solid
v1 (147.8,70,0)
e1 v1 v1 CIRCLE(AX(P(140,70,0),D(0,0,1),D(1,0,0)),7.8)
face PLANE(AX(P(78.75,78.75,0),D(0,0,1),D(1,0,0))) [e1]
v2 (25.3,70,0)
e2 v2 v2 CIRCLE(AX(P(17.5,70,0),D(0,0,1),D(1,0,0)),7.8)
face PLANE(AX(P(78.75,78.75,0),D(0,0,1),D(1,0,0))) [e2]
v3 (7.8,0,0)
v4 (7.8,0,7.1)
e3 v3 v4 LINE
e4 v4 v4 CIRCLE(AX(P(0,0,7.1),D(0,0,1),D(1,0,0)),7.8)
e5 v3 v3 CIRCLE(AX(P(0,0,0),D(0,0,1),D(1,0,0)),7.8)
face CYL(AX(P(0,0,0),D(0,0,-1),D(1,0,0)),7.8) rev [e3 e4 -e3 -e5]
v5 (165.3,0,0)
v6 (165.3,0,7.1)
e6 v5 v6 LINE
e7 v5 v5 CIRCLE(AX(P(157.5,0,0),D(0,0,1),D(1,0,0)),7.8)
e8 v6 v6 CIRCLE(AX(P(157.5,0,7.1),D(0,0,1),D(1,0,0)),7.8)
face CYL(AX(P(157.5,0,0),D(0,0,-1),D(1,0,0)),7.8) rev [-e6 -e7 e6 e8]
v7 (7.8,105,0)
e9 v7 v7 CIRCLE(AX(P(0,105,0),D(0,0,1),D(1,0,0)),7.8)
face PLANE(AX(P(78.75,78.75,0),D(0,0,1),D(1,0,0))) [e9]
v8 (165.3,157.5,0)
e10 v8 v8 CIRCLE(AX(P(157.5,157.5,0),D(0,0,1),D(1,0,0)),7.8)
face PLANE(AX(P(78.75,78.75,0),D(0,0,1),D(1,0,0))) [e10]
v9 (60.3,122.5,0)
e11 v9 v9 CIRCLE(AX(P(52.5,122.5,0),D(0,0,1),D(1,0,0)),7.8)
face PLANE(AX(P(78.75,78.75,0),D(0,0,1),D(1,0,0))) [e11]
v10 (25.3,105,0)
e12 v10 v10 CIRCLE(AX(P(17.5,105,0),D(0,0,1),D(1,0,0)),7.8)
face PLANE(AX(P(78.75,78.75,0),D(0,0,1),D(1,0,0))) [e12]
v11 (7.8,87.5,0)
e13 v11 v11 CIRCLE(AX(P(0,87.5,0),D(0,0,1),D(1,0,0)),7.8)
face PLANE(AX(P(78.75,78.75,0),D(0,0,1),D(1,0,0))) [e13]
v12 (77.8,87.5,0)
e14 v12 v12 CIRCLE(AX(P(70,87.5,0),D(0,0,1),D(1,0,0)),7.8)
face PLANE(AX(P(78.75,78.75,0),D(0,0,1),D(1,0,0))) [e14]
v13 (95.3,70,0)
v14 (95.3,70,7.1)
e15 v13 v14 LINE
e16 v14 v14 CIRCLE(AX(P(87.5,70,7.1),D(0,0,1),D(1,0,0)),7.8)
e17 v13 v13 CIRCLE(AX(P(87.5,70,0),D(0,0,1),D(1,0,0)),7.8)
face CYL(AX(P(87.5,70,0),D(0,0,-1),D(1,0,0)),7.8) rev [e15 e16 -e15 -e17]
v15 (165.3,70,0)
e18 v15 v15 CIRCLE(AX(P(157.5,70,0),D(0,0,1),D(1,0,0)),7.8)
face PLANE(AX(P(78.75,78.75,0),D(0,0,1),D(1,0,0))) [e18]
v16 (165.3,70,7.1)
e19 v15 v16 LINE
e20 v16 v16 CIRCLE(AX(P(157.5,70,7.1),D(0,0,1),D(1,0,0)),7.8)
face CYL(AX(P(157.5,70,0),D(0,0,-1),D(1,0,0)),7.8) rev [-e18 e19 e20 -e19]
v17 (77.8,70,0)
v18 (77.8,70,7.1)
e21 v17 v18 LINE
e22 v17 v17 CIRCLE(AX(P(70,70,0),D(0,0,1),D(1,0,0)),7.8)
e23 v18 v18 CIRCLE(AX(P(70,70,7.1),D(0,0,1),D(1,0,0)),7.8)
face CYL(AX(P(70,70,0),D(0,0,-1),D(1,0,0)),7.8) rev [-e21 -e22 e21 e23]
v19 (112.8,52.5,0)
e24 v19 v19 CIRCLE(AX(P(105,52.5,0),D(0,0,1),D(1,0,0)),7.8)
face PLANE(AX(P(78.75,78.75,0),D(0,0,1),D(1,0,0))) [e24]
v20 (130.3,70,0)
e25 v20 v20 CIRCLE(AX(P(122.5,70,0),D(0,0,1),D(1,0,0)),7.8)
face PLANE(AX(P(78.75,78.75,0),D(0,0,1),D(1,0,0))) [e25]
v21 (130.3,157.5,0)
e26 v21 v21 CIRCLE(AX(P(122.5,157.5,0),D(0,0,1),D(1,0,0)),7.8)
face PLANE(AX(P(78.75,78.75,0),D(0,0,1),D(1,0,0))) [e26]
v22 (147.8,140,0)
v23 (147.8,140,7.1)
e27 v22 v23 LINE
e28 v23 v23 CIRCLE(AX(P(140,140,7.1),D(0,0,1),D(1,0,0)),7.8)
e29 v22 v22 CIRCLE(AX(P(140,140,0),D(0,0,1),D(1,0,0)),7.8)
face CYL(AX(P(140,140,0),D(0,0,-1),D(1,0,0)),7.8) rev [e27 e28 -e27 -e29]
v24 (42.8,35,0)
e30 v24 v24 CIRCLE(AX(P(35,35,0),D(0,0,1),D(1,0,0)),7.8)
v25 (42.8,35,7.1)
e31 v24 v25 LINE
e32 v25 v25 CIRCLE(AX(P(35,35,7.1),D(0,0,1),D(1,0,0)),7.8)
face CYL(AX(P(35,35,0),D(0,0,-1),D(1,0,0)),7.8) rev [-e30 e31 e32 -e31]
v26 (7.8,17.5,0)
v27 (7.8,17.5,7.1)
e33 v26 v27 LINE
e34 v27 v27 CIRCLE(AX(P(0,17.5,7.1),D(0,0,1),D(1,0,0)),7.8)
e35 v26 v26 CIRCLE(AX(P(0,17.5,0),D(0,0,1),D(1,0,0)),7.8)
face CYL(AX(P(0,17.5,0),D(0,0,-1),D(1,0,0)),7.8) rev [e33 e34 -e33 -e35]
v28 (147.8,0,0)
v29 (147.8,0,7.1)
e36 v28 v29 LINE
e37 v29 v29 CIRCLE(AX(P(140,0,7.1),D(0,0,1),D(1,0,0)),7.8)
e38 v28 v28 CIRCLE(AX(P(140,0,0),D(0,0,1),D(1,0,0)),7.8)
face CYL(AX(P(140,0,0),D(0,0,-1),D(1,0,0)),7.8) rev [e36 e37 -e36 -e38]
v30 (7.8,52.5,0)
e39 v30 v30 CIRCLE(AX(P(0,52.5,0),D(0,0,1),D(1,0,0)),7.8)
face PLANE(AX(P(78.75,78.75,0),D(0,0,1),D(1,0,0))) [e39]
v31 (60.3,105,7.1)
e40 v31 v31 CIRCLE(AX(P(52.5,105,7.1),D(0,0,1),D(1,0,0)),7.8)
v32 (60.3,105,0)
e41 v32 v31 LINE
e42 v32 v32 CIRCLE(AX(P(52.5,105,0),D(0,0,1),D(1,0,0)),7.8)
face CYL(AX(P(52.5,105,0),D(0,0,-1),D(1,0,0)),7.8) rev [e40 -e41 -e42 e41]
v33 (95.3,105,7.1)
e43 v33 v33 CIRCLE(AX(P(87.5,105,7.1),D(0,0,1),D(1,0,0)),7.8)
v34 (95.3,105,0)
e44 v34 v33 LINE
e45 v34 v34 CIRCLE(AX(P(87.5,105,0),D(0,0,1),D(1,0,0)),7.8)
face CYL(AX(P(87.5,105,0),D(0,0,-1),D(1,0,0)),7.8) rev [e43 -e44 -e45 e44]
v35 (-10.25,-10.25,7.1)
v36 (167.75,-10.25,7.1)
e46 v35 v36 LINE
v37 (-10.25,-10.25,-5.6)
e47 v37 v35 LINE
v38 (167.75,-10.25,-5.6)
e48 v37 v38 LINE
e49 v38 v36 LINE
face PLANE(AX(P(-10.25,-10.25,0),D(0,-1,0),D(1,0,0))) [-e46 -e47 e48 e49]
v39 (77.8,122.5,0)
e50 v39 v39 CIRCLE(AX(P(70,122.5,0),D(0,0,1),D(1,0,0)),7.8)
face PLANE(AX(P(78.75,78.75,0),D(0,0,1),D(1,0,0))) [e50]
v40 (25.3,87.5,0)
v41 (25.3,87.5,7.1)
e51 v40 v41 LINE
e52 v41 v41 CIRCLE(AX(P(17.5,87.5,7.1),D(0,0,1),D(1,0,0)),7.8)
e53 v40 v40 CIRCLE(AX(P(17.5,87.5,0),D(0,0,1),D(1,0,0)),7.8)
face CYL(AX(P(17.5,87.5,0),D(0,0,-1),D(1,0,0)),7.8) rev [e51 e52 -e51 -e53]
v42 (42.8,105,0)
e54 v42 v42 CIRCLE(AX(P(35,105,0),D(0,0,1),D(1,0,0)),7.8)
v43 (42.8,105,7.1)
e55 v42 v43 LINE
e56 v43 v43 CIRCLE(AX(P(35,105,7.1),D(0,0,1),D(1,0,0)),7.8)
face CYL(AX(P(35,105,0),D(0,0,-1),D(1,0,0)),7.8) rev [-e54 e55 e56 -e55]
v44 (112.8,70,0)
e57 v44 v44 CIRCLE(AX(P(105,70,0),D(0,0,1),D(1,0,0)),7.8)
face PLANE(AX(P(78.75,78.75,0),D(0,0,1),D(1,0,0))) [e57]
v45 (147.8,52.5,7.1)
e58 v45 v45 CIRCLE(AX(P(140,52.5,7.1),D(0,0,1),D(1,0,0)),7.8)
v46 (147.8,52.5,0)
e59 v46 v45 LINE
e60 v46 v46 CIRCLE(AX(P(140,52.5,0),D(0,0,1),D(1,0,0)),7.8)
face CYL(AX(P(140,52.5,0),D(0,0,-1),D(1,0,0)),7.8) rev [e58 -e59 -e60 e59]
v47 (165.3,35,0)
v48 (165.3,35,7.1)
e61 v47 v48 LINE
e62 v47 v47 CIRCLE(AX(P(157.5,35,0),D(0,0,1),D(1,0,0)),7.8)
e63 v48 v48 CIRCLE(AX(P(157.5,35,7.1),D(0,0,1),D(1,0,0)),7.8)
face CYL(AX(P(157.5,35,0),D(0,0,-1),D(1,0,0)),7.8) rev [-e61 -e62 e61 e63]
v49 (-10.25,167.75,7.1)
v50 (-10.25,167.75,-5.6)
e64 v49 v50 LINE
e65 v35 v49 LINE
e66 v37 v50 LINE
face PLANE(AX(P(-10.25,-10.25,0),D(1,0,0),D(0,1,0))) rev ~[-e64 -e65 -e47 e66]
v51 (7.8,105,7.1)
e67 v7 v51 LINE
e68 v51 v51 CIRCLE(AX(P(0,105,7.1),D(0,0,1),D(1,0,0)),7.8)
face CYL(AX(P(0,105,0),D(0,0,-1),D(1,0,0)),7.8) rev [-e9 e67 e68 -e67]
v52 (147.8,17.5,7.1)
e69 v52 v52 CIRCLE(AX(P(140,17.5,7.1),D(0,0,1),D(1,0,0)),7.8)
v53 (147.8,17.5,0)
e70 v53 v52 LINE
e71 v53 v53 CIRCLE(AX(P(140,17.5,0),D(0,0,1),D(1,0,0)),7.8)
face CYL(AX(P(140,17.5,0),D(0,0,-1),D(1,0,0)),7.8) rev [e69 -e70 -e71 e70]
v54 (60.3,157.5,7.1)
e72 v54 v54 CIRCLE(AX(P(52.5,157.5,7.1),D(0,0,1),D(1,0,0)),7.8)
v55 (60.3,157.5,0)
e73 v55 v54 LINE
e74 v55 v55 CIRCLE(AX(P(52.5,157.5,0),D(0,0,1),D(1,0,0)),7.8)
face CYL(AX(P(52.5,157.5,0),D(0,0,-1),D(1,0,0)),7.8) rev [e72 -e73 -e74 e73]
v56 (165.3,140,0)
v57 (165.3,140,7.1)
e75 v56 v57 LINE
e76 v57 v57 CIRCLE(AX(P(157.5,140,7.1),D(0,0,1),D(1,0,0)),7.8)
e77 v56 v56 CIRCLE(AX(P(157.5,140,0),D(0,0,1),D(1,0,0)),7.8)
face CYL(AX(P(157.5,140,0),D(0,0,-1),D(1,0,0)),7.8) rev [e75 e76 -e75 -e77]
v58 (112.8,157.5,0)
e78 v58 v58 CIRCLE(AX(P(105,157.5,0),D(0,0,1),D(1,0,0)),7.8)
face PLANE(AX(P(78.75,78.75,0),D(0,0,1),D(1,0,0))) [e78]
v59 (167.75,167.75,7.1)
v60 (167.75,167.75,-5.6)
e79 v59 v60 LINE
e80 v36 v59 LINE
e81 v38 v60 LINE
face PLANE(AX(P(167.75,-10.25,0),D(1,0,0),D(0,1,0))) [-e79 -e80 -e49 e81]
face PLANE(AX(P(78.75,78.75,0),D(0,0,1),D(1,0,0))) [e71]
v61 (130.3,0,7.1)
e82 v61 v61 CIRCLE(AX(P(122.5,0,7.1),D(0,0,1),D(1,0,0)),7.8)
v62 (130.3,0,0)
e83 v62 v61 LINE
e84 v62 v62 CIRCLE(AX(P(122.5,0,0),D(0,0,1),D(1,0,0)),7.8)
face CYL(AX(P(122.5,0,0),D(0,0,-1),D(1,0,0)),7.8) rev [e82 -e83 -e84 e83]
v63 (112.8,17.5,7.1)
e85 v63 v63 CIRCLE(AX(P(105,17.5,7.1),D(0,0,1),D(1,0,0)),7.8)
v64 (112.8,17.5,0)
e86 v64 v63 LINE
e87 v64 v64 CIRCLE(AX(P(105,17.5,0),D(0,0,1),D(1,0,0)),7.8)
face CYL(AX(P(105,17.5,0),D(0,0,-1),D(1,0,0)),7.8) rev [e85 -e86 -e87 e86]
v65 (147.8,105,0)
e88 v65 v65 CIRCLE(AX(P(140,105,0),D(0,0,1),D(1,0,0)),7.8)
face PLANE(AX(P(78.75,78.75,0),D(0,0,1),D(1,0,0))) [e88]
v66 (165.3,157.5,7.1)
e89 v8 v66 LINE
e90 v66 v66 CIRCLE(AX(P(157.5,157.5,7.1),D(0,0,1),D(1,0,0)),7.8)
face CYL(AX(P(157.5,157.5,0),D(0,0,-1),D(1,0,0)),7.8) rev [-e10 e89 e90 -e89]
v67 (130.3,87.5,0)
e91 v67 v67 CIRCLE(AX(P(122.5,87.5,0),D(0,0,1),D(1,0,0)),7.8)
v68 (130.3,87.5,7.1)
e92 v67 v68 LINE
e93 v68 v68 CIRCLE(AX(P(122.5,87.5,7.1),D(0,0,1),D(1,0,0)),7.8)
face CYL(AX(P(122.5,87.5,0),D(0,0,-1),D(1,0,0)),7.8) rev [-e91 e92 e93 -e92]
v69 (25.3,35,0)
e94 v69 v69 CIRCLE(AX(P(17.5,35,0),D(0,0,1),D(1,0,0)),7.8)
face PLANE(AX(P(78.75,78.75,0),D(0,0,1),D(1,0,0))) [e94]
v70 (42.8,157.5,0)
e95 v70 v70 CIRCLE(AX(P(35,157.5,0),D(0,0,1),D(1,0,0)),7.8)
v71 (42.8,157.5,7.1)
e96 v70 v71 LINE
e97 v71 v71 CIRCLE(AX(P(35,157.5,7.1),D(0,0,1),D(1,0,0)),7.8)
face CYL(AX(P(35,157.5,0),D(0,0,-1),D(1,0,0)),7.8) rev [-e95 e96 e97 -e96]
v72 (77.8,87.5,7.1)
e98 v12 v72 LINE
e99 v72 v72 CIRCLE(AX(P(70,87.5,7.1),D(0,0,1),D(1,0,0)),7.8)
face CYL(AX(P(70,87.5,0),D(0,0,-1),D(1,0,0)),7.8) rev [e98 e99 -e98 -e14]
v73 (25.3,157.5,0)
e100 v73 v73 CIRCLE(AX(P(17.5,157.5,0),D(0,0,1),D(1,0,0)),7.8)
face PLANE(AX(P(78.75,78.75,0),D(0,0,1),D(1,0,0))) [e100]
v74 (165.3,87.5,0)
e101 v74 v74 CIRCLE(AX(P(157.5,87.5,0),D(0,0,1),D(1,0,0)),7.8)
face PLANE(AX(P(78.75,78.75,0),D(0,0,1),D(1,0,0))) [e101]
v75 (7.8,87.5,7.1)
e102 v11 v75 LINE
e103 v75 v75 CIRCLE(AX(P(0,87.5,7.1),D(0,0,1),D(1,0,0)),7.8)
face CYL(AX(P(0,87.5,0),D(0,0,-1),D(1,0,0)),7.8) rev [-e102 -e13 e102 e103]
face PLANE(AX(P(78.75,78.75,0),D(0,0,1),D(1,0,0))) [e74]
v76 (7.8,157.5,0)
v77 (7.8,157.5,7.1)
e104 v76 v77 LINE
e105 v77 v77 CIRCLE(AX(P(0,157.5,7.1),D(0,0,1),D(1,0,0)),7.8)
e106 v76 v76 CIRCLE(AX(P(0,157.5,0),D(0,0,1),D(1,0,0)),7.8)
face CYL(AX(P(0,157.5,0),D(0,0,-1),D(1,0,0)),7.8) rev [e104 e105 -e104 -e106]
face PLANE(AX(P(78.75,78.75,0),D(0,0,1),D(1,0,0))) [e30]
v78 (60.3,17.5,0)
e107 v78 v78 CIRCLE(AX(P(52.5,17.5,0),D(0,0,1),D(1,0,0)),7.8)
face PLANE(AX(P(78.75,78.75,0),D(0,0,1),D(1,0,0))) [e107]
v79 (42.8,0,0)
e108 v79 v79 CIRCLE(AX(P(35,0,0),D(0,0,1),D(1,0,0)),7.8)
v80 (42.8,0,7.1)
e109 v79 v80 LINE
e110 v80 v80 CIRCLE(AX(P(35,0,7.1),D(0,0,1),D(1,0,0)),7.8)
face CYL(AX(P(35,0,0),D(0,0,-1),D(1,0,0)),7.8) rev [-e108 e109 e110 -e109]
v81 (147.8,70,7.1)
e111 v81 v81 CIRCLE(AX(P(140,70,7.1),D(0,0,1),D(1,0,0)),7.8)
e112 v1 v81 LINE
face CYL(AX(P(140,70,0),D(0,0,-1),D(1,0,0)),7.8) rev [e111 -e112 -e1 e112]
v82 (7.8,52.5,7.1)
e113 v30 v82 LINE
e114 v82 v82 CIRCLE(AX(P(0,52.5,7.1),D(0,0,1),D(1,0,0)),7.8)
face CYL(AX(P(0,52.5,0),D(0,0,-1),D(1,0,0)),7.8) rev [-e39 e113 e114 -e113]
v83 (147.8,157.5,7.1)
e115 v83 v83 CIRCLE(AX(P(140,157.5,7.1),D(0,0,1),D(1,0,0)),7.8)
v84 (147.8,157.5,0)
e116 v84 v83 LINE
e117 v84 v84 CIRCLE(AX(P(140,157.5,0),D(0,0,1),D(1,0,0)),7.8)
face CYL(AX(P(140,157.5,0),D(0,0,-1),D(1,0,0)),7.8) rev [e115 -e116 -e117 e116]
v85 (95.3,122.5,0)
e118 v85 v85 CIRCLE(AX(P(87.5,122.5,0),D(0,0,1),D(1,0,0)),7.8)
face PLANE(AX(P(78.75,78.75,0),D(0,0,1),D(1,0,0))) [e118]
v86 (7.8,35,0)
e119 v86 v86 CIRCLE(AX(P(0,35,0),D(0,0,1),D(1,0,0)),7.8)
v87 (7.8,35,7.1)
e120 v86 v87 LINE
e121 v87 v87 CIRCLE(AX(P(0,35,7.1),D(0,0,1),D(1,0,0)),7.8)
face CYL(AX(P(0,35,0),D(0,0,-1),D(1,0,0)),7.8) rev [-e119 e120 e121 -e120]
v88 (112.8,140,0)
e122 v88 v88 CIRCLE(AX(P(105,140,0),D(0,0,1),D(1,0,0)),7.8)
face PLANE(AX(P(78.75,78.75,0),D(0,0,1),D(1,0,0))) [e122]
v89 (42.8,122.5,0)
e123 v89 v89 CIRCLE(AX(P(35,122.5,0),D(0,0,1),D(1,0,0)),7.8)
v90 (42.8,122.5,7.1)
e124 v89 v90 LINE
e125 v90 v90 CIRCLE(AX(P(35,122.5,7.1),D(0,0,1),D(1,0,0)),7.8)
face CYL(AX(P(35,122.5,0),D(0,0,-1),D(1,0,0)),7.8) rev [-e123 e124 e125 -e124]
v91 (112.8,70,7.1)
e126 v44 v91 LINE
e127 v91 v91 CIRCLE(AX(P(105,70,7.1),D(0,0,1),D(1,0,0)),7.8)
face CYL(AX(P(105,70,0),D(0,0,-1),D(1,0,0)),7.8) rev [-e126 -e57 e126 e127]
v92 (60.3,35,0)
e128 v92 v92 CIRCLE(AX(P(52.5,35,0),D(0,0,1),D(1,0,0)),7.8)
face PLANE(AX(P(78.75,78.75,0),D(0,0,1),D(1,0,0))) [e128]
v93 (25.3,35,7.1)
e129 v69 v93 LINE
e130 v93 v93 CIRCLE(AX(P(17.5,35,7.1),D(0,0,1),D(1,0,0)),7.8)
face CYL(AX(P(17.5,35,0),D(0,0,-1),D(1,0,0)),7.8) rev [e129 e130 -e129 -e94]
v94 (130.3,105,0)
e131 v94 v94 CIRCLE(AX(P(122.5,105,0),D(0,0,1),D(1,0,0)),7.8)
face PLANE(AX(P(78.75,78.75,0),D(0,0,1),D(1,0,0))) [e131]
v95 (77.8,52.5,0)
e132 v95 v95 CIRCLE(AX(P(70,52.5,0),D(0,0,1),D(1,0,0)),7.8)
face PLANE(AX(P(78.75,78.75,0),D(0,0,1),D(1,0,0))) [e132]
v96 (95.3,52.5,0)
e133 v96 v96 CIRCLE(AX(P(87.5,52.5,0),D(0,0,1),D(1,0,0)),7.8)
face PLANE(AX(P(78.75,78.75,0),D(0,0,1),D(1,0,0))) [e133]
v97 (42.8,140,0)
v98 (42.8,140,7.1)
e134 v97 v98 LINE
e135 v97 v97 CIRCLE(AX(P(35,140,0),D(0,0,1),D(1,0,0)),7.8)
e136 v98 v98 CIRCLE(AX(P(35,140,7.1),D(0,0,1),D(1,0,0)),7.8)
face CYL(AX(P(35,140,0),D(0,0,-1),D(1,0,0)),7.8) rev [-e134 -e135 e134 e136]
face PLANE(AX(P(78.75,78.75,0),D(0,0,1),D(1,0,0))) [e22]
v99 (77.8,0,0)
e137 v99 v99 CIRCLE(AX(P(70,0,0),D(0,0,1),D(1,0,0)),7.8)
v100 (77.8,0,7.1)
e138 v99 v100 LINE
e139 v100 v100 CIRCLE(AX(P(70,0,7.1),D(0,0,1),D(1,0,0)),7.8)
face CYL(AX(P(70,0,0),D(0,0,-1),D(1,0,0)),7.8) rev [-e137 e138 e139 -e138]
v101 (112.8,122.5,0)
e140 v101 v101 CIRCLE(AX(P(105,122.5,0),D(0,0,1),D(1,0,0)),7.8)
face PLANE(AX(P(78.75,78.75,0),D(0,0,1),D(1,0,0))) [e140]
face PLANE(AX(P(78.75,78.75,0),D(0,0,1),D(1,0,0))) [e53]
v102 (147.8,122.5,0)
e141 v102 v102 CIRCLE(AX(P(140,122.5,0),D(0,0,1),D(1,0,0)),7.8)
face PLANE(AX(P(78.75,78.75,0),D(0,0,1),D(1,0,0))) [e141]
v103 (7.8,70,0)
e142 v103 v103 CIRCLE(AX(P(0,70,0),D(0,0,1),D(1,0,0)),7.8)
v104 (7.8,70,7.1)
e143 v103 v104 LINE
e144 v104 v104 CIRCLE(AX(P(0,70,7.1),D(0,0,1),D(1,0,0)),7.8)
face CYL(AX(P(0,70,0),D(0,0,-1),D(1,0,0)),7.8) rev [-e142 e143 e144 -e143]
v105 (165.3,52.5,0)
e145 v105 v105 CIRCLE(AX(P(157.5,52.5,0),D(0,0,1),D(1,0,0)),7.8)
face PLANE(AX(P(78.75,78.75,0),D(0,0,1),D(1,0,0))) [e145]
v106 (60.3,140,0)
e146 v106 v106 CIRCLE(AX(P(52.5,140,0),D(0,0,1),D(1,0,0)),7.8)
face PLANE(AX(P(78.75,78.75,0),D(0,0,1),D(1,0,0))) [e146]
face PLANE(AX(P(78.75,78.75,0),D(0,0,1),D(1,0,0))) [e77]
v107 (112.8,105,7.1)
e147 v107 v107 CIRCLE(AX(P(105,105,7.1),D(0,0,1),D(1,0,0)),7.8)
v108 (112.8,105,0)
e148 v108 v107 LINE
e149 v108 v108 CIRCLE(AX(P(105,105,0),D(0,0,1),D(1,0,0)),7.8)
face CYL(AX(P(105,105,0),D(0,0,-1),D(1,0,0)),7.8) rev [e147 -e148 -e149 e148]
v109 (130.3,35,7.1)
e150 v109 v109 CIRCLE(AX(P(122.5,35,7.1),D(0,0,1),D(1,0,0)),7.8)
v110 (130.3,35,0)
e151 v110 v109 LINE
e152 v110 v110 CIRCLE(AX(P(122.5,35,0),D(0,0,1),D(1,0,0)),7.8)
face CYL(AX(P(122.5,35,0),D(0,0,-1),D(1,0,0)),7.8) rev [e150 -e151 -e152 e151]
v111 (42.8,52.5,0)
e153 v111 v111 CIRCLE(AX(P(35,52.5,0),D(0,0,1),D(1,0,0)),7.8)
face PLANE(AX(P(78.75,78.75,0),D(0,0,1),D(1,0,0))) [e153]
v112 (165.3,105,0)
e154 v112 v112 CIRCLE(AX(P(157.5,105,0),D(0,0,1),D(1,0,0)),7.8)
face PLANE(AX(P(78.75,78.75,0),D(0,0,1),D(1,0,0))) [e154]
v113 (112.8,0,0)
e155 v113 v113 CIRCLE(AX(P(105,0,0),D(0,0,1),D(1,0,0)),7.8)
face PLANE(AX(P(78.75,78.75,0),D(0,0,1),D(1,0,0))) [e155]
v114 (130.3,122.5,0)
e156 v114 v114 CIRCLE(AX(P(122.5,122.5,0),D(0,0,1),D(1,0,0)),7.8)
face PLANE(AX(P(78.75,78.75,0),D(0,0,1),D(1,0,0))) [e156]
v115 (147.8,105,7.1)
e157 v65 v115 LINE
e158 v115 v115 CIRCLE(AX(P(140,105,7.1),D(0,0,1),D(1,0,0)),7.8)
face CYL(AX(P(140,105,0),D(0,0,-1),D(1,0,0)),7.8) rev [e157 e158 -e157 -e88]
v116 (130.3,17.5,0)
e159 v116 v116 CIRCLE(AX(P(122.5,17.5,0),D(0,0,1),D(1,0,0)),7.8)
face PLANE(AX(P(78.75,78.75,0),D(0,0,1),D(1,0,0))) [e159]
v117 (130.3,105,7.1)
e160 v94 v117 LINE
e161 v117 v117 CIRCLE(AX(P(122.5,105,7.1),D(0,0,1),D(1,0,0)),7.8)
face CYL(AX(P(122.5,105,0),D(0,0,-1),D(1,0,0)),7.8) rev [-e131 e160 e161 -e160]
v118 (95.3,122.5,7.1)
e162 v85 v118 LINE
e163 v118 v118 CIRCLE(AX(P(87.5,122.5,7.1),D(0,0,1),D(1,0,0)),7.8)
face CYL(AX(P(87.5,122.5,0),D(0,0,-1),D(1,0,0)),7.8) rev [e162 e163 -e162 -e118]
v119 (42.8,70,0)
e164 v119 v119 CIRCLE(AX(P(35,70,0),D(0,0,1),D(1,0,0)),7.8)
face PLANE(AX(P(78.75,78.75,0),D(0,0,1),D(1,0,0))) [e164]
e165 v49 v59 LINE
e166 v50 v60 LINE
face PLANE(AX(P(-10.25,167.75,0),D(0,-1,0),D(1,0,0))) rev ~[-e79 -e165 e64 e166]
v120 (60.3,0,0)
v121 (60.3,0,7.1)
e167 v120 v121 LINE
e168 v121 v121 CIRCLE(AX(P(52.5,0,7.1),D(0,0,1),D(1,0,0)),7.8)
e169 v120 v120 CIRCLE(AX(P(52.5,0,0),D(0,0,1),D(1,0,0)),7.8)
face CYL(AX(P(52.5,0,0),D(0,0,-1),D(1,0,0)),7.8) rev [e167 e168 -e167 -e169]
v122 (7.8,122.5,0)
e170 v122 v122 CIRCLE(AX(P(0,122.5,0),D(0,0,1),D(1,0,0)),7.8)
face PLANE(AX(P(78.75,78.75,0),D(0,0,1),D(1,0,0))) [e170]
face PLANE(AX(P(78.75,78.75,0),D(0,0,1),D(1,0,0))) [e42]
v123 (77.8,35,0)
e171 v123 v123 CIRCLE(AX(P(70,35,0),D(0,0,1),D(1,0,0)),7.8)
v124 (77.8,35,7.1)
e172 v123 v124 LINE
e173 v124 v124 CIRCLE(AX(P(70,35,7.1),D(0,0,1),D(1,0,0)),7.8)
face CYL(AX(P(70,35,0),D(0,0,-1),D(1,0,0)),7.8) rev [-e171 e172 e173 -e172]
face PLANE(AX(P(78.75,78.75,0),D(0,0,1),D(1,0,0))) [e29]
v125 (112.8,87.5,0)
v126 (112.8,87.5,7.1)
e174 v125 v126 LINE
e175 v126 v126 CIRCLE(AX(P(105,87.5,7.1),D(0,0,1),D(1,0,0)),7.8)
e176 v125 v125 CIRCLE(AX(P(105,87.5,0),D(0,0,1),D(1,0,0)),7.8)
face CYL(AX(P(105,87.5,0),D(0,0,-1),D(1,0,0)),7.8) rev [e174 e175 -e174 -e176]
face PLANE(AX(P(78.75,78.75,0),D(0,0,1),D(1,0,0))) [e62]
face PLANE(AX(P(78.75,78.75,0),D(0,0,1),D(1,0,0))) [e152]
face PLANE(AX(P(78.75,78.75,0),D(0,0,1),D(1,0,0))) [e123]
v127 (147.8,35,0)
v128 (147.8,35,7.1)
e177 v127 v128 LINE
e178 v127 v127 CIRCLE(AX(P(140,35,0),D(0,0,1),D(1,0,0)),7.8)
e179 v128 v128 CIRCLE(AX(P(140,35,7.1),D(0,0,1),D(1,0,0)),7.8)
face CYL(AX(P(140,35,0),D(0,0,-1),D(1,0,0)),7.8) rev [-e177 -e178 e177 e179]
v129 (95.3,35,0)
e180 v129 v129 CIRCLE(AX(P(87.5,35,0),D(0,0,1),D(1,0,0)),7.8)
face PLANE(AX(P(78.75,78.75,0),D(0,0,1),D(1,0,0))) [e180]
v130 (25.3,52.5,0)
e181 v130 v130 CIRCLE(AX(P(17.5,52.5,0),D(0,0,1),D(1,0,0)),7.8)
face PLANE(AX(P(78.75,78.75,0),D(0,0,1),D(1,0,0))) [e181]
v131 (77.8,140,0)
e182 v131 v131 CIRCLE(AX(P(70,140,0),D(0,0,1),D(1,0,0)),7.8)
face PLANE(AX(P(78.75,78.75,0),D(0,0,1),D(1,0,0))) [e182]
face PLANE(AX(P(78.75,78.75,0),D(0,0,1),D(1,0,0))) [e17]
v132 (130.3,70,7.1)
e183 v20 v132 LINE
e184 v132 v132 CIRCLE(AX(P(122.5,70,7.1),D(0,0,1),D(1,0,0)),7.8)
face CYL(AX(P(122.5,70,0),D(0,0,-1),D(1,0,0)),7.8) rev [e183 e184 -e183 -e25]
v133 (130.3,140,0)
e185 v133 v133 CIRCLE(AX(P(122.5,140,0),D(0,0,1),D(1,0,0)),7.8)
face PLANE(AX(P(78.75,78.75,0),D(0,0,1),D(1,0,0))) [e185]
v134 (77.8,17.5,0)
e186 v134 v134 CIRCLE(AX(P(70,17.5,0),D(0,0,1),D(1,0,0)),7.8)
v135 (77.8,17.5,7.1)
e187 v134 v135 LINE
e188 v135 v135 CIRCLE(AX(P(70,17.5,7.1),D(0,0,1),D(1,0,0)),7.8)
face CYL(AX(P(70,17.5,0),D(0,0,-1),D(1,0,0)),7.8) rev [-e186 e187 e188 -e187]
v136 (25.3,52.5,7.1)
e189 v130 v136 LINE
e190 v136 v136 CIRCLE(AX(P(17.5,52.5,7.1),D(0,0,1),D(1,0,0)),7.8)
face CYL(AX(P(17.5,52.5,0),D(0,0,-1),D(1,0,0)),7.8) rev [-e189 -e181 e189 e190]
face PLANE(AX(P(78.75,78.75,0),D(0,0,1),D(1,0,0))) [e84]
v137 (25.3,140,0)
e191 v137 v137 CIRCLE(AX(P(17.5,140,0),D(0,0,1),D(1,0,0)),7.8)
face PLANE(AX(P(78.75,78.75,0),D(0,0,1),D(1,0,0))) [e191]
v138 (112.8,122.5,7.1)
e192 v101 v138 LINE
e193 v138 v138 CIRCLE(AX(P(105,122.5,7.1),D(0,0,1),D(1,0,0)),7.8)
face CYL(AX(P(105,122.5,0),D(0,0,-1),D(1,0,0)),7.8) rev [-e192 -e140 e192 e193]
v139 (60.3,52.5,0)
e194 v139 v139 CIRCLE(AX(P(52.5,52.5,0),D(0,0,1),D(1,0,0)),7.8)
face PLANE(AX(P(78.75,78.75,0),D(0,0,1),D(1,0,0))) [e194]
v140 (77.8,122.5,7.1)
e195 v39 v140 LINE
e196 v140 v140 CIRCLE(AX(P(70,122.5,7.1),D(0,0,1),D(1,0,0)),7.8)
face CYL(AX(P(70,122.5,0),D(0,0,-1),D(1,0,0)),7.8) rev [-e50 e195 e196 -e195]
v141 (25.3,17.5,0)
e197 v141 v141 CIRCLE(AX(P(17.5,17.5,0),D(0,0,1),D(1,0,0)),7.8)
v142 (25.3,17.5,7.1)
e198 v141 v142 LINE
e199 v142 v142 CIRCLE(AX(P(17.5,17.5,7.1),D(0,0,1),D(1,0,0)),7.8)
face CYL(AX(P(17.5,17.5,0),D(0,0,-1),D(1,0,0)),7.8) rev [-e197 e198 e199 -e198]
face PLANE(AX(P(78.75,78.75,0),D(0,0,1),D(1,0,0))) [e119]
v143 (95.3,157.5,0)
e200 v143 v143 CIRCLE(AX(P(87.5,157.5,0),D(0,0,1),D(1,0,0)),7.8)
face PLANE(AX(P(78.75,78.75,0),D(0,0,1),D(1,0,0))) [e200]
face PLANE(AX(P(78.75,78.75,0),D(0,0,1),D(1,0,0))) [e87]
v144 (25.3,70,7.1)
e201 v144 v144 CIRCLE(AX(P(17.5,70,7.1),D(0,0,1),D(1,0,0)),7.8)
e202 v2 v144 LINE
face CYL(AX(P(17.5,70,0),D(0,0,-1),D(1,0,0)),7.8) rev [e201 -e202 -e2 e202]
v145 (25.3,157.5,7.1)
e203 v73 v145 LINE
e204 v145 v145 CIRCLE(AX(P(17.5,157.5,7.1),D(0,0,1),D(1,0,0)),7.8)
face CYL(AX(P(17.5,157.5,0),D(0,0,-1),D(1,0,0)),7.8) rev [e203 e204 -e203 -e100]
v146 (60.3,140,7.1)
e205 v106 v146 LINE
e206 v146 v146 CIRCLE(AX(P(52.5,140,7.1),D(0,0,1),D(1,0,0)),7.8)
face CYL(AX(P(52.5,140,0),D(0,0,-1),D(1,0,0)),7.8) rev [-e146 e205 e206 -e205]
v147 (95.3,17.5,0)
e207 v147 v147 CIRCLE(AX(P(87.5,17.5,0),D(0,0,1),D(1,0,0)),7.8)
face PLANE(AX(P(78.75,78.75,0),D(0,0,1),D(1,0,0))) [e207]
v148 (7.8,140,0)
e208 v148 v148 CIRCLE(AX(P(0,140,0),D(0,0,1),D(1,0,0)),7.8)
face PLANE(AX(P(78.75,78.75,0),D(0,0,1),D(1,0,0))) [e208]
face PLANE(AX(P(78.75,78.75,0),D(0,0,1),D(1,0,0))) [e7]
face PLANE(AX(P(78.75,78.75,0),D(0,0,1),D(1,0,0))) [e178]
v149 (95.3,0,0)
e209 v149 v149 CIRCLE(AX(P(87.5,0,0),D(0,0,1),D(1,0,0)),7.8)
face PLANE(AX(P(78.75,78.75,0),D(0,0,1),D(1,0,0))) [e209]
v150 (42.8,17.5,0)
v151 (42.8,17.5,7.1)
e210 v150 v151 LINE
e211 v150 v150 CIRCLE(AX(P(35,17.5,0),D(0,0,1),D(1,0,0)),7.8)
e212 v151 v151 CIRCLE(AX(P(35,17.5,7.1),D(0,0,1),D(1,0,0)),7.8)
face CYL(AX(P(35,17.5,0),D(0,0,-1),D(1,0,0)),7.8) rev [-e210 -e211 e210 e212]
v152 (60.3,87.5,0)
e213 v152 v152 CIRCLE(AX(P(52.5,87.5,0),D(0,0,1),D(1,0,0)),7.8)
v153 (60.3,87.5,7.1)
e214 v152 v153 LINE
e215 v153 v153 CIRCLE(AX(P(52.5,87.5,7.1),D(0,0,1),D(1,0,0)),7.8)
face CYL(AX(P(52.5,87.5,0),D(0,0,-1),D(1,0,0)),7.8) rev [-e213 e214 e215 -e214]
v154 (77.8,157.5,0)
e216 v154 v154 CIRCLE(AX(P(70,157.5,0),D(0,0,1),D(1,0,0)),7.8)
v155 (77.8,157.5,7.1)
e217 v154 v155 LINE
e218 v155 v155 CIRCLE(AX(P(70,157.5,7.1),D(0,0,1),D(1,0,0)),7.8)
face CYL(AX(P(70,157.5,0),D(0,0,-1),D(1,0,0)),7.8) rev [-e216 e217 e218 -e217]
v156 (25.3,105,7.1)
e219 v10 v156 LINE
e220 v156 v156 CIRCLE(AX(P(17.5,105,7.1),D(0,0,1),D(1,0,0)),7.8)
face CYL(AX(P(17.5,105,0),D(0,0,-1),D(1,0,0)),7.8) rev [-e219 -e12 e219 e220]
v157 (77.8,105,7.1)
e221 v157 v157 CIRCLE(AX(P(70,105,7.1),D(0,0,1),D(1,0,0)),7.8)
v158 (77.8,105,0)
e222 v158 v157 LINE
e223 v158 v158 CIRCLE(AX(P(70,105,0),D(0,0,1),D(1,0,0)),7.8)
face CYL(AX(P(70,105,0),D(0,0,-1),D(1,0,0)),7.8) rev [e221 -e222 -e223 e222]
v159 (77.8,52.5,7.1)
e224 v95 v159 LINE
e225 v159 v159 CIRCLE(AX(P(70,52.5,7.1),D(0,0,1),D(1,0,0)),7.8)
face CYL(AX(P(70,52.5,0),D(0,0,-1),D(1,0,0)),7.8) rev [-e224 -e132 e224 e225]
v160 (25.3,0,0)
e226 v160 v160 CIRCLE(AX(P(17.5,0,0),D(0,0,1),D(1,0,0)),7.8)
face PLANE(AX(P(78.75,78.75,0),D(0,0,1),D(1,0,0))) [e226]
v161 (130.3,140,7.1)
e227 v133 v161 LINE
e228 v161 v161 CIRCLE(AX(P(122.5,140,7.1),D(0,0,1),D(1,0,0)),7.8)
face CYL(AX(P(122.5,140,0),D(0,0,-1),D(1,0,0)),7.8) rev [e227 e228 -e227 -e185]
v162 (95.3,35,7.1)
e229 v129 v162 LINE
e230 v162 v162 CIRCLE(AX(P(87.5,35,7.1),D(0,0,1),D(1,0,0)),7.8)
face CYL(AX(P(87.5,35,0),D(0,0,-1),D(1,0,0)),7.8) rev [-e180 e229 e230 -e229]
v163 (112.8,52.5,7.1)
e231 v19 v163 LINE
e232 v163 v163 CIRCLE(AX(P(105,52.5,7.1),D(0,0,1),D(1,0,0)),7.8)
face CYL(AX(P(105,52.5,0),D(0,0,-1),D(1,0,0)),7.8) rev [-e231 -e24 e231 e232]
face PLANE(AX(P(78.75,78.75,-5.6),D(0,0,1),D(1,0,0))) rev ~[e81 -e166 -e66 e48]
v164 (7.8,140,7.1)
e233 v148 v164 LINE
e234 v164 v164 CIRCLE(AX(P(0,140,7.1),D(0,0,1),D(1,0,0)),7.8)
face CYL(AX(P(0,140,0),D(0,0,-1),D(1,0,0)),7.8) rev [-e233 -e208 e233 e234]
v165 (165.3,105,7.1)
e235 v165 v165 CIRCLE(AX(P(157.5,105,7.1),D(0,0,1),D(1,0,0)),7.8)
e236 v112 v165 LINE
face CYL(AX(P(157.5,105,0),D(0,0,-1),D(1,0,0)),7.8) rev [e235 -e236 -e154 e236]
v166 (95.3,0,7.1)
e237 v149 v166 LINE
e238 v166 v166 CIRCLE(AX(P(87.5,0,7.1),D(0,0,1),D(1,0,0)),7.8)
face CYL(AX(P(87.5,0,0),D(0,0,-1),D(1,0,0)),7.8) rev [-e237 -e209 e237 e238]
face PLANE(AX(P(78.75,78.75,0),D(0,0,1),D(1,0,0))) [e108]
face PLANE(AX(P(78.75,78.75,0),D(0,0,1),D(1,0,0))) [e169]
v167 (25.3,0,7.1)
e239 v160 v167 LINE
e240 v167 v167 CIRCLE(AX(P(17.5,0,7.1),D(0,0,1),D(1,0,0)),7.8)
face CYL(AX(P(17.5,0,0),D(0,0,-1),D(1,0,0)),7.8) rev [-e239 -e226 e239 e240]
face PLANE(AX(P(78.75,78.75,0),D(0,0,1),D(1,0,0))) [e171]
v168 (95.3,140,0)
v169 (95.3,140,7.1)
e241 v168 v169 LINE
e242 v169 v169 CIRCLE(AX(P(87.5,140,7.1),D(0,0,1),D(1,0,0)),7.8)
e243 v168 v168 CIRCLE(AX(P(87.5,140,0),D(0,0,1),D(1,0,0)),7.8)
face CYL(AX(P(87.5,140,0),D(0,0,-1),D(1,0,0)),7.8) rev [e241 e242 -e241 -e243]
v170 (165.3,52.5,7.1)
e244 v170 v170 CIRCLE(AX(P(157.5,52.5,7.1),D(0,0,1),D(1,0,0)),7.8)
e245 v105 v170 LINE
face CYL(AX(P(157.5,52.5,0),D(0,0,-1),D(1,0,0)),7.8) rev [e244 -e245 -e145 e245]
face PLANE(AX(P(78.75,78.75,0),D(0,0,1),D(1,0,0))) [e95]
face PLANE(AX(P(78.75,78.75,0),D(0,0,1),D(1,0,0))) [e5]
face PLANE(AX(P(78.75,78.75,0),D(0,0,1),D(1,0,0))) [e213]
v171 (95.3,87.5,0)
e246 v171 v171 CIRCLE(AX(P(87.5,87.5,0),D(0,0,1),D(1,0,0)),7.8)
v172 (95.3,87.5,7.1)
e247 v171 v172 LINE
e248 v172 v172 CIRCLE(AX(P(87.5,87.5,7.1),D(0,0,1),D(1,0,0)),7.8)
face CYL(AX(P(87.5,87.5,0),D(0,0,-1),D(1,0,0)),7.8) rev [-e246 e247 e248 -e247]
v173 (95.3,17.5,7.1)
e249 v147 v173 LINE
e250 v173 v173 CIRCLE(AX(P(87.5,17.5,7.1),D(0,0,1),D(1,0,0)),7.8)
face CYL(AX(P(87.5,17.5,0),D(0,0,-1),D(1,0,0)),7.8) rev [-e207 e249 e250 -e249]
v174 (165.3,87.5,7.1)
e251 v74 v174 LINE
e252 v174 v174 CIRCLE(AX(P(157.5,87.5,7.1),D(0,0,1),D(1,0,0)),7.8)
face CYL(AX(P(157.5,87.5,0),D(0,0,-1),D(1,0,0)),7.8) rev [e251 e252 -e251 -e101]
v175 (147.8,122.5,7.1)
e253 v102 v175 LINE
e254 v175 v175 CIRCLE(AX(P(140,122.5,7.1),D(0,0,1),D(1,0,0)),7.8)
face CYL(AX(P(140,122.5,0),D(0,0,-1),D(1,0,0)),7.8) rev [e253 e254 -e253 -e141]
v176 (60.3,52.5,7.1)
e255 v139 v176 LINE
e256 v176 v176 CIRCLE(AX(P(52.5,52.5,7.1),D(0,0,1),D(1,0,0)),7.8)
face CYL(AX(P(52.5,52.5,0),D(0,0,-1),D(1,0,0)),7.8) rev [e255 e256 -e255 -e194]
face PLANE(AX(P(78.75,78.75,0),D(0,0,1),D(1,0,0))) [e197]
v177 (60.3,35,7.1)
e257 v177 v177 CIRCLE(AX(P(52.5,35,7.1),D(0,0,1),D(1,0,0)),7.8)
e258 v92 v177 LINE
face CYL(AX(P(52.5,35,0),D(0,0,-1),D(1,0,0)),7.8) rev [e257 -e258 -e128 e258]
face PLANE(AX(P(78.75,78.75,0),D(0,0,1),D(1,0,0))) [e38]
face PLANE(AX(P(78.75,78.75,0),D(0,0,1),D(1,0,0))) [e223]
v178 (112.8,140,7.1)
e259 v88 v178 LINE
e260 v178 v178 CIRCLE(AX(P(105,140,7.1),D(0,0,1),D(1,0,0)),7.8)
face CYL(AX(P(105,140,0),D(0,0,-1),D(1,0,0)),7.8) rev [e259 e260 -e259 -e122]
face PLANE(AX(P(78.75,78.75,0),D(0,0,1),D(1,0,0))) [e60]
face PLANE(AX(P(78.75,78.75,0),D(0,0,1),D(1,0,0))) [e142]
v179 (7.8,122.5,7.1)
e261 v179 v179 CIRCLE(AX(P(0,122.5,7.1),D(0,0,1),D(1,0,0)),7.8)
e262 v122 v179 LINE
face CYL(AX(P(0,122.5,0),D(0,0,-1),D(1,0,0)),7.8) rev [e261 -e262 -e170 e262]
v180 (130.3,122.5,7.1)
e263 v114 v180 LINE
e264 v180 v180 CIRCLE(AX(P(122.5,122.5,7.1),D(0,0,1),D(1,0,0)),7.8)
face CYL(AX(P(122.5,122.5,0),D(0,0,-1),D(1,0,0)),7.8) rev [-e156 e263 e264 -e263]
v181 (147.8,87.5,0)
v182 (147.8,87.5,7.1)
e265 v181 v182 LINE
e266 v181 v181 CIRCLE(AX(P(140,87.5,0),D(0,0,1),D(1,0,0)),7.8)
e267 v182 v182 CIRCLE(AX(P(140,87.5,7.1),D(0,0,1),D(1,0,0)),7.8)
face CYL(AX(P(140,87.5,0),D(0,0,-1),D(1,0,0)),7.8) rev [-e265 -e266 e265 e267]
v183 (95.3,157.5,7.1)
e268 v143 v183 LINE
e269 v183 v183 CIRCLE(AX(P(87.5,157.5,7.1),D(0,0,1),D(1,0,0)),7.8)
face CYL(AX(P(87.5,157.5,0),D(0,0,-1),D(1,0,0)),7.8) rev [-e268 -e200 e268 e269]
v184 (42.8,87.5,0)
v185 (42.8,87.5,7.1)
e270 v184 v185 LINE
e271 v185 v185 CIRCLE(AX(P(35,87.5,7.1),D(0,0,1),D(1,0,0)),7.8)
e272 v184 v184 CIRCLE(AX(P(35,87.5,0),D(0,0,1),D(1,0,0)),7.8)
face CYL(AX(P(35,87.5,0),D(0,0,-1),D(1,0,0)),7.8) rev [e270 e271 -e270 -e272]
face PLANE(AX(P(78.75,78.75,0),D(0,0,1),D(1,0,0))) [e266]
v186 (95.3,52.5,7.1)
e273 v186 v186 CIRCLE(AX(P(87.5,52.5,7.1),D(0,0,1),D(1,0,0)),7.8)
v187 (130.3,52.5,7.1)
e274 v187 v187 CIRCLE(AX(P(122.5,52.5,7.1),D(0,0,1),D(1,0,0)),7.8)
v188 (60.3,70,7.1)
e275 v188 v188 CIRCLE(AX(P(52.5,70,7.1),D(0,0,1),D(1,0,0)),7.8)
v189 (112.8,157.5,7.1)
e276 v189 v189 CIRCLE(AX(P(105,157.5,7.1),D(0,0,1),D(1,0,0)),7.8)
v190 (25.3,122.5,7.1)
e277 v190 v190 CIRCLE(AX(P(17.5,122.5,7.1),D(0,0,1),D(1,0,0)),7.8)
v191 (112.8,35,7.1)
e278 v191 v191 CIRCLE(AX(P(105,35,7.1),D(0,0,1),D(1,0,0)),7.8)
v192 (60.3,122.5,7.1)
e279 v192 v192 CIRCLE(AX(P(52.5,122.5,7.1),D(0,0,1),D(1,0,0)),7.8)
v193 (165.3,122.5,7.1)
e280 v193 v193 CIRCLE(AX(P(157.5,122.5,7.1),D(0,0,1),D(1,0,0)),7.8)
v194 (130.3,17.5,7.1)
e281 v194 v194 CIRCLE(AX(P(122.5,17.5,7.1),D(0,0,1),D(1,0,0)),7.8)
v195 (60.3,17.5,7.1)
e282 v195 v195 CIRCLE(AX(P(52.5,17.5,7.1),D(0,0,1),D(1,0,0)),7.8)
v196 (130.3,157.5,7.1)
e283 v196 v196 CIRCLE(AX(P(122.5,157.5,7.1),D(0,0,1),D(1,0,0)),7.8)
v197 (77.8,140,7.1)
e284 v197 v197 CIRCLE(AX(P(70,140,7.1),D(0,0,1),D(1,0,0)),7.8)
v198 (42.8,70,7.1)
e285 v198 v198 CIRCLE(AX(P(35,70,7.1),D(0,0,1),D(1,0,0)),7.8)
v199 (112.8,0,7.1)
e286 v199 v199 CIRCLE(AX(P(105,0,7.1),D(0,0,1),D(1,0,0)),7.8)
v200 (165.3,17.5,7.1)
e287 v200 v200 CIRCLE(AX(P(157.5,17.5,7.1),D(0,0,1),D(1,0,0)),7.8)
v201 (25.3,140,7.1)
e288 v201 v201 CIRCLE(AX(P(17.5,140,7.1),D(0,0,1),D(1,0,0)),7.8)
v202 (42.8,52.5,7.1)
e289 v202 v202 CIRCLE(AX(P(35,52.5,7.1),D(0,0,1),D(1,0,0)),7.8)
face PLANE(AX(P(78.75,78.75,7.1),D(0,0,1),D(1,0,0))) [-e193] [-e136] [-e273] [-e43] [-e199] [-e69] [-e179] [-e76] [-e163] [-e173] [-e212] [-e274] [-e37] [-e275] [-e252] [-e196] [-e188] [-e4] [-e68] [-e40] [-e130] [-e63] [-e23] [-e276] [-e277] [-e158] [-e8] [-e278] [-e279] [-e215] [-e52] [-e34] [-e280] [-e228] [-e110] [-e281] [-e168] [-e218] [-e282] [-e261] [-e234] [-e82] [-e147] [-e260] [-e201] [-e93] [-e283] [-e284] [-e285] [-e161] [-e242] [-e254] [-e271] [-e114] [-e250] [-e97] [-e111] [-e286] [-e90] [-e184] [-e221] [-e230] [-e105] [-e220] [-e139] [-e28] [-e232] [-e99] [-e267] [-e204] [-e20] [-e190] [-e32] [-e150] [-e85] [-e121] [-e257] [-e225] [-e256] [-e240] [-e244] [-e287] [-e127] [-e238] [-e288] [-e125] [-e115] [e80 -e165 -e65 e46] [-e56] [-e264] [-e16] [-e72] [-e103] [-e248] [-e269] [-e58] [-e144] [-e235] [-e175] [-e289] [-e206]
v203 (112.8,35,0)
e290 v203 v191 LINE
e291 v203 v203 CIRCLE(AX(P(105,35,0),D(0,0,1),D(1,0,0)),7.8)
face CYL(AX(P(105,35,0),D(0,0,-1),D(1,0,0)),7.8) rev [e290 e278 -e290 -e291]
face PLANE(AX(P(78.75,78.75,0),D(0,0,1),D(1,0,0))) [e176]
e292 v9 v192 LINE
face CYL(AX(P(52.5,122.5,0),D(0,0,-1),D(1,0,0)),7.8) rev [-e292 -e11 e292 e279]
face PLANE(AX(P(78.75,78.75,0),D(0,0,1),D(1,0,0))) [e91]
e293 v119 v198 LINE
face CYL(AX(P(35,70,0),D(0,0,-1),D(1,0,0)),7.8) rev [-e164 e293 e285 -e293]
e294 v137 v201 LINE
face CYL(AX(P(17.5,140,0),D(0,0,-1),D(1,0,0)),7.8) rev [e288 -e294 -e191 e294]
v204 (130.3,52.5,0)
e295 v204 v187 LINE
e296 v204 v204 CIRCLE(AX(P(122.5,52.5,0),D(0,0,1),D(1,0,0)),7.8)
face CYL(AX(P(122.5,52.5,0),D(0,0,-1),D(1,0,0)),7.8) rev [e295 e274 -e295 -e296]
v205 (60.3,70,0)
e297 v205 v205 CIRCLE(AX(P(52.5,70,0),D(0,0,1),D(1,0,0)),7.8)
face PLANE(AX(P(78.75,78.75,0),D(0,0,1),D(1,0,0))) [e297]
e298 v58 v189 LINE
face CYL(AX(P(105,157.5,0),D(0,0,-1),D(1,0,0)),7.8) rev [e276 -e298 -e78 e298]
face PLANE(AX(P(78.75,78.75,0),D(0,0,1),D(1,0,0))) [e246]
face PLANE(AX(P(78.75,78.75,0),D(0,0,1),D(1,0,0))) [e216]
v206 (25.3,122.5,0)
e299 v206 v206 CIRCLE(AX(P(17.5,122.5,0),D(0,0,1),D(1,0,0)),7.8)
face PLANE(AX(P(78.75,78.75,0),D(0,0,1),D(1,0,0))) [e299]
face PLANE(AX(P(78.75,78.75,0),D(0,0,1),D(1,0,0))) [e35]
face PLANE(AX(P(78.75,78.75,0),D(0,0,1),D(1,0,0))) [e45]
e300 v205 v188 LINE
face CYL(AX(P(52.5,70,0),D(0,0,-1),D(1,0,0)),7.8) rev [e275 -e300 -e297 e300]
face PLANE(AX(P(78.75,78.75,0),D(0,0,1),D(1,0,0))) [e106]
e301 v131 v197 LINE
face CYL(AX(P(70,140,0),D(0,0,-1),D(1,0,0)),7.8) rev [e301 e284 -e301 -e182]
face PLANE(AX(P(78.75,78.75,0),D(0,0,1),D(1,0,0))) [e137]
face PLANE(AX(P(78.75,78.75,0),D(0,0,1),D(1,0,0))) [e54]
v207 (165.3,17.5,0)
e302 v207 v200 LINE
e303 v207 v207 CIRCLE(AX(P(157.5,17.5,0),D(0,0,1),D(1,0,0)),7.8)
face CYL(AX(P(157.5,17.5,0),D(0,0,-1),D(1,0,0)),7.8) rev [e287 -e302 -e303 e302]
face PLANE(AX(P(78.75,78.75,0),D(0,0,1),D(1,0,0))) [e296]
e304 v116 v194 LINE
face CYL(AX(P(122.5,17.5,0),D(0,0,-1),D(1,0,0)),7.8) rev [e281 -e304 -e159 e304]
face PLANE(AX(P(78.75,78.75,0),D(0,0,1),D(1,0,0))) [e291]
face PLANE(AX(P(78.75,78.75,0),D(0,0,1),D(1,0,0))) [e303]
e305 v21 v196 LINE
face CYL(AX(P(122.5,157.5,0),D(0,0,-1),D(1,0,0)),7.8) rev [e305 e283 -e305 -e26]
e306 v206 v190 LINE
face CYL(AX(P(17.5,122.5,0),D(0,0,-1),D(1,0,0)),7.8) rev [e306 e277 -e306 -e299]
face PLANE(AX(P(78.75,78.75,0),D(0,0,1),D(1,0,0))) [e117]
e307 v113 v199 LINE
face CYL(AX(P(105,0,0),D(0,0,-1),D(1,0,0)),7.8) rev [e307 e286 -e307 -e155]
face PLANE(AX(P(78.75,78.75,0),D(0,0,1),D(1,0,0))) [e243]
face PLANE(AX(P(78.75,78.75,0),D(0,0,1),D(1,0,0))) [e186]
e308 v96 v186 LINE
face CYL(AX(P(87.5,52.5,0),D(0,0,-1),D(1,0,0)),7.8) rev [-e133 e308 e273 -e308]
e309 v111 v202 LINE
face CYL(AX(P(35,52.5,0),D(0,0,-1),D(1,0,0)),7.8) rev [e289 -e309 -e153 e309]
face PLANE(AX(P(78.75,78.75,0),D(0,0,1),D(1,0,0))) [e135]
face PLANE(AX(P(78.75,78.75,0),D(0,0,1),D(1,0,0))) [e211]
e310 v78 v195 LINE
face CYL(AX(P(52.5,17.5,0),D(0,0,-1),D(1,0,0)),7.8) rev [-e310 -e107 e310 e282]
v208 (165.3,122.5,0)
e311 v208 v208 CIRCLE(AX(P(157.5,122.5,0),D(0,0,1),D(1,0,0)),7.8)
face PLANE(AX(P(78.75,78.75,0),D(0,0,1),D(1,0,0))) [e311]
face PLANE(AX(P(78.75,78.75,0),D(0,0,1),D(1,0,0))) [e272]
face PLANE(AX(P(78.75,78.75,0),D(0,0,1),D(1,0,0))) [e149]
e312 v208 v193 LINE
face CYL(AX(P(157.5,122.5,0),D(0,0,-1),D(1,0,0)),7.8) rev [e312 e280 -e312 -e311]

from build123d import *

# Parameters (mm, degrees)
F0_W     = 178
F0_H     = 178
F0_R     = 7.8
F1_DEPTH = 7.1
F2_W     = 178
F2_H     = 178
F3_DEPTH = 5.6


with BuildPart() as f1:
    # F0 (on Top) → F1 (new body)
    with BuildSketch(Plane.XY):
        with Locations((78.75, 78.75)):
            Rectangle(F0_W, F0_H)
        Circle(F0_R, mode=Mode.SUBTRACT)
        with Locations((17.5, 0)):
            Circle(F0_R, mode=Mode.SUBTRACT)
        with Locations((0, 17.5)):
            Circle(F0_R, mode=Mode.SUBTRACT)
        with Locations((17.5, 17.5)):
            Circle(F0_R, mode=Mode.SUBTRACT)
        with Locations((35, 0)):
            Circle(F0_R, mode=Mode.SUBTRACT)
        with Locations((52.5, 0)):
            Circle(F0_R, mode=Mode.SUBTRACT)
        with Locations((70, 0)):
            Circle(F0_R, mode=Mode.SUBTRACT)
        with Locations((35, 17.5)):
            Circle(F0_R, mode=Mode.SUBTRACT)
        with Locations((52.5, 17.5)):
            Circle(F0_R, mode=Mode.SUBTRACT)
        with Locations((70, 17.5)):
            Circle(F0_R, mode=Mode.SUBTRACT)
        with Locations((0, 35)):
            Circle(F0_R, mode=Mode.SUBTRACT)
        with Locations((0, 52.5)):
            Circle(F0_R, mode=Mode.SUBTRACT)
        with Locations((17.5, 35)):
            Circle(F0_R, mode=Mode.SUBTRACT)
        with Locations((17.5, 52.5)):
            Circle(F0_R, mode=Mode.SUBTRACT)
        with Locations((0, 70)):
            Circle(F0_R, mode=Mode.SUBTRACT)
        with Locations((17.5, 70)):
            Circle(F0_R, mode=Mode.SUBTRACT)
        with Locations((35, 35)):
            Circle(F0_R, mode=Mode.SUBTRACT)
        with Locations((52.5, 35)):
            Circle(F0_R, mode=Mode.SUBTRACT)
        with Locations((35, 52.5)):
            Circle(F0_R, mode=Mode.SUBTRACT)
        with Locations((52.5, 52.5)):
            Circle(F0_R, mode=Mode.SUBTRACT)
        with Locations((70, 35)):
            Circle(F0_R, mode=Mode.SUBTRACT)
        with Locations((70, 52.5)):
            Circle(F0_R, mode=Mode.SUBTRACT)
        with Locations((35, 70)):
            Circle(F0_R, mode=Mode.SUBTRACT)
        with Locations((52.5, 70)):
            Circle(F0_R, mode=Mode.SUBTRACT)
        with Locations((70, 70)):
            Circle(F0_R, mode=Mode.SUBTRACT)
        with Locations((87.5, 0)):
            Circle(F0_R, mode=Mode.SUBTRACT)
        with Locations((105, 0)):
            Circle(F0_R, mode=Mode.SUBTRACT)
        with Locations((122.5, 0)):
            Circle(F0_R, mode=Mode.SUBTRACT)
        with Locations((87.5, 17.5)):
            Circle(F0_R, mode=Mode.SUBTRACT)
        with Locations((105, 17.5)):
            Circle(F0_R, mode=Mode.SUBTRACT)
        with Locations((122.5, 17.5)):
            Circle(F0_R, mode=Mode.SUBTRACT)
        with Locations((140, 0)):
            Circle(F0_R, mode=Mode.SUBTRACT)
        with Locations((157.5, 0)):
            Circle(F0_R, mode=Mode.SUBTRACT)
        with Locations((140, 17.5)):
            Circle(F0_R, mode=Mode.SUBTRACT)
        with Locations((157.5, 17.5)):
            Circle(F0_R, mode=Mode.SUBTRACT)
        with Locations((87.5, 35)):
            Circle(F0_R, mode=Mode.SUBTRACT)
        with Locations((87.5, 52.5)):
            Circle(F0_R, mode=Mode.SUBTRACT)
        with Locations((105, 35)):
            Circle(F0_R, mode=Mode.SUBTRACT)
        with Locations((122.5, 35)):
            Circle(F0_R, mode=Mode.SUBTRACT)
        with Locations((105, 52.5)):
            Circle(F0_R, mode=Mode.SUBTRACT)
        with Locations((122.5, 52.5)):
            Circle(F0_R, mode=Mode.SUBTRACT)
        with Locations((87.5, 70)):
            Circle(F0_R, mode=Mode.SUBTRACT)
        with Locations((105, 70)):
            Circle(F0_R, mode=Mode.SUBTRACT)
        with Locations((122.5, 70)):
            Circle(F0_R, mode=Mode.SUBTRACT)
        with Locations((140, 35)):
            Circle(F0_R, mode=Mode.SUBTRACT)
        with Locations((140, 52.5)):
            Circle(F0_R, mode=Mode.SUBTRACT)
        with Locations((157.5, 35)):
            Circle(F0_R, mode=Mode.SUBTRACT)
        with Locations((157.5, 52.5)):
            Circle(F0_R, mode=Mode.SUBTRACT)
        with Locations((140, 70)):
            Circle(F0_R, mode=Mode.SUBTRACT)
        with Locations((157.5, 70)):
            Circle(F0_R, mode=Mode.SUBTRACT)
        with Locations((0, 87.5)):
            Circle(F0_R, mode=Mode.SUBTRACT)
        with Locations((17.5, 87.5)):
            Circle(F0_R, mode=Mode.SUBTRACT)
        with Locations((0, 105)):
            Circle(F0_R, mode=Mode.SUBTRACT)
        with Locations((0, 122.5)):
            Circle(F0_R, mode=Mode.SUBTRACT)
        with Locations((17.5, 105)):
            Circle(F0_R, mode=Mode.SUBTRACT)
        with Locations((17.5, 122.5)):
            Circle(F0_R, mode=Mode.SUBTRACT)
        with Locations((35, 87.5)):
            Circle(F0_R, mode=Mode.SUBTRACT)
        with Locations((52.5, 87.5)):
            Circle(F0_R, mode=Mode.SUBTRACT)
        with Locations((70, 87.5)):
            Circle(F0_R, mode=Mode.SUBTRACT)
        with Locations((35, 105)):
            Circle(F0_R, mode=Mode.SUBTRACT)
        with Locations((52.5, 105)):
            Circle(F0_R, mode=Mode.SUBTRACT)
        with Locations((35, 122.5)):
            Circle(F0_R, mode=Mode.SUBTRACT)
        with Locations((52.5, 122.5)):
            Circle(F0_R, mode=Mode.SUBTRACT)
        with Locations((70, 105)):
            Circle(F0_R, mode=Mode.SUBTRACT)
        with Locations((70, 122.5)):
            Circle(F0_R, mode=Mode.SUBTRACT)
        with Locations((0, 140)):
            Circle(F0_R, mode=Mode.SUBTRACT)
        with Locations((17.5, 140)):
            Circle(F0_R, mode=Mode.SUBTRACT)
        with Locations((0, 157.5)):
            Circle(F0_R, mode=Mode.SUBTRACT)
        with Locations((17.5, 157.5)):
            Circle(F0_R, mode=Mode.SUBTRACT)
        with Locations((35, 140)):
            Circle(F0_R, mode=Mode.SUBTRACT)
        with Locations((52.5, 140)):
            Circle(F0_R, mode=Mode.SUBTRACT)
        with Locations((70, 140)):
            Circle(F0_R, mode=Mode.SUBTRACT)
        with Locations((35, 157.5)):
            Circle(F0_R, mode=Mode.SUBTRACT)
        with Locations((52.5, 157.5)):
            Circle(F0_R, mode=Mode.SUBTRACT)
        with Locations((70, 157.5)):
            Circle(F0_R, mode=Mode.SUBTRACT)
        with Locations((87.5, 87.5)):
            Circle(F0_R, mode=Mode.SUBTRACT)
        with Locations((105, 87.5)):
            Circle(F0_R, mode=Mode.SUBTRACT)
        with Locations((122.5, 87.5)):
            Circle(F0_R, mode=Mode.SUBTRACT)
        with Locations((87.5, 105)):
            Circle(F0_R, mode=Mode.SUBTRACT)
        with Locations((87.5, 122.5)):
            Circle(F0_R, mode=Mode.SUBTRACT)
        with Locations((105, 105)):
            Circle(F0_R, mode=Mode.SUBTRACT)
        with Locations((122.5, 105)):
            Circle(F0_R, mode=Mode.SUBTRACT)
        with Locations((105, 122.5)):
            Circle(F0_R, mode=Mode.SUBTRACT)
        with Locations((122.5, 122.5)):
            Circle(F0_R, mode=Mode.SUBTRACT)
        with Locations((140, 87.5)):
            Circle(F0_R, mode=Mode.SUBTRACT)
        with Locations((157.5, 87.5)):
            Circle(F0_R, mode=Mode.SUBTRACT)
        with Locations((140, 105)):
            Circle(F0_R, mode=Mode.SUBTRACT)
        with Locations((140, 122.5)):
            Circle(F0_R, mode=Mode.SUBTRACT)
        with Locations((157.5, 105)):
            Circle(F0_R, mode=Mode.SUBTRACT)
        with Locations((157.5, 122.5)):
            Circle(F0_R, mode=Mode.SUBTRACT)
        with Locations((87.5, 140)):
            Circle(F0_R, mode=Mode.SUBTRACT)
        with Locations((105, 140)):
            Circle(F0_R, mode=Mode.SUBTRACT)
        with Locations((122.5, 140)):
            Circle(F0_R, mode=Mode.SUBTRACT)
        with Locations((87.5, 157.5)):
            Circle(F0_R, mode=Mode.SUBTRACT)
        with Locations((105, 157.5)):
            Circle(F0_R, mode=Mode.SUBTRACT)
        with Locations((122.5, 157.5)):
            Circle(F0_R, mode=Mode.SUBTRACT)
        with Locations((140, 140)):
            Circle(F0_R, mode=Mode.SUBTRACT)
        with Locations((157.5, 140)):
            Circle(F0_R, mode=Mode.SUBTRACT)
        with Locations((140, 157.5)):
            Circle(F0_R, mode=Mode.SUBTRACT)
        with Locations((157.5, 157.5)):
            Circle(F0_R, mode=Mode.SUBTRACT)
    extrude(amount=F1_DEPTH)

    # F2 (on Top) → F3 (join)
    with BuildSketch(Plane.XY):
        with Locations((78.75, 78.75)):
            Rectangle(F2_W, F2_H)
    extrude(amount=-F3_DEPTH)


solid = f1.part
